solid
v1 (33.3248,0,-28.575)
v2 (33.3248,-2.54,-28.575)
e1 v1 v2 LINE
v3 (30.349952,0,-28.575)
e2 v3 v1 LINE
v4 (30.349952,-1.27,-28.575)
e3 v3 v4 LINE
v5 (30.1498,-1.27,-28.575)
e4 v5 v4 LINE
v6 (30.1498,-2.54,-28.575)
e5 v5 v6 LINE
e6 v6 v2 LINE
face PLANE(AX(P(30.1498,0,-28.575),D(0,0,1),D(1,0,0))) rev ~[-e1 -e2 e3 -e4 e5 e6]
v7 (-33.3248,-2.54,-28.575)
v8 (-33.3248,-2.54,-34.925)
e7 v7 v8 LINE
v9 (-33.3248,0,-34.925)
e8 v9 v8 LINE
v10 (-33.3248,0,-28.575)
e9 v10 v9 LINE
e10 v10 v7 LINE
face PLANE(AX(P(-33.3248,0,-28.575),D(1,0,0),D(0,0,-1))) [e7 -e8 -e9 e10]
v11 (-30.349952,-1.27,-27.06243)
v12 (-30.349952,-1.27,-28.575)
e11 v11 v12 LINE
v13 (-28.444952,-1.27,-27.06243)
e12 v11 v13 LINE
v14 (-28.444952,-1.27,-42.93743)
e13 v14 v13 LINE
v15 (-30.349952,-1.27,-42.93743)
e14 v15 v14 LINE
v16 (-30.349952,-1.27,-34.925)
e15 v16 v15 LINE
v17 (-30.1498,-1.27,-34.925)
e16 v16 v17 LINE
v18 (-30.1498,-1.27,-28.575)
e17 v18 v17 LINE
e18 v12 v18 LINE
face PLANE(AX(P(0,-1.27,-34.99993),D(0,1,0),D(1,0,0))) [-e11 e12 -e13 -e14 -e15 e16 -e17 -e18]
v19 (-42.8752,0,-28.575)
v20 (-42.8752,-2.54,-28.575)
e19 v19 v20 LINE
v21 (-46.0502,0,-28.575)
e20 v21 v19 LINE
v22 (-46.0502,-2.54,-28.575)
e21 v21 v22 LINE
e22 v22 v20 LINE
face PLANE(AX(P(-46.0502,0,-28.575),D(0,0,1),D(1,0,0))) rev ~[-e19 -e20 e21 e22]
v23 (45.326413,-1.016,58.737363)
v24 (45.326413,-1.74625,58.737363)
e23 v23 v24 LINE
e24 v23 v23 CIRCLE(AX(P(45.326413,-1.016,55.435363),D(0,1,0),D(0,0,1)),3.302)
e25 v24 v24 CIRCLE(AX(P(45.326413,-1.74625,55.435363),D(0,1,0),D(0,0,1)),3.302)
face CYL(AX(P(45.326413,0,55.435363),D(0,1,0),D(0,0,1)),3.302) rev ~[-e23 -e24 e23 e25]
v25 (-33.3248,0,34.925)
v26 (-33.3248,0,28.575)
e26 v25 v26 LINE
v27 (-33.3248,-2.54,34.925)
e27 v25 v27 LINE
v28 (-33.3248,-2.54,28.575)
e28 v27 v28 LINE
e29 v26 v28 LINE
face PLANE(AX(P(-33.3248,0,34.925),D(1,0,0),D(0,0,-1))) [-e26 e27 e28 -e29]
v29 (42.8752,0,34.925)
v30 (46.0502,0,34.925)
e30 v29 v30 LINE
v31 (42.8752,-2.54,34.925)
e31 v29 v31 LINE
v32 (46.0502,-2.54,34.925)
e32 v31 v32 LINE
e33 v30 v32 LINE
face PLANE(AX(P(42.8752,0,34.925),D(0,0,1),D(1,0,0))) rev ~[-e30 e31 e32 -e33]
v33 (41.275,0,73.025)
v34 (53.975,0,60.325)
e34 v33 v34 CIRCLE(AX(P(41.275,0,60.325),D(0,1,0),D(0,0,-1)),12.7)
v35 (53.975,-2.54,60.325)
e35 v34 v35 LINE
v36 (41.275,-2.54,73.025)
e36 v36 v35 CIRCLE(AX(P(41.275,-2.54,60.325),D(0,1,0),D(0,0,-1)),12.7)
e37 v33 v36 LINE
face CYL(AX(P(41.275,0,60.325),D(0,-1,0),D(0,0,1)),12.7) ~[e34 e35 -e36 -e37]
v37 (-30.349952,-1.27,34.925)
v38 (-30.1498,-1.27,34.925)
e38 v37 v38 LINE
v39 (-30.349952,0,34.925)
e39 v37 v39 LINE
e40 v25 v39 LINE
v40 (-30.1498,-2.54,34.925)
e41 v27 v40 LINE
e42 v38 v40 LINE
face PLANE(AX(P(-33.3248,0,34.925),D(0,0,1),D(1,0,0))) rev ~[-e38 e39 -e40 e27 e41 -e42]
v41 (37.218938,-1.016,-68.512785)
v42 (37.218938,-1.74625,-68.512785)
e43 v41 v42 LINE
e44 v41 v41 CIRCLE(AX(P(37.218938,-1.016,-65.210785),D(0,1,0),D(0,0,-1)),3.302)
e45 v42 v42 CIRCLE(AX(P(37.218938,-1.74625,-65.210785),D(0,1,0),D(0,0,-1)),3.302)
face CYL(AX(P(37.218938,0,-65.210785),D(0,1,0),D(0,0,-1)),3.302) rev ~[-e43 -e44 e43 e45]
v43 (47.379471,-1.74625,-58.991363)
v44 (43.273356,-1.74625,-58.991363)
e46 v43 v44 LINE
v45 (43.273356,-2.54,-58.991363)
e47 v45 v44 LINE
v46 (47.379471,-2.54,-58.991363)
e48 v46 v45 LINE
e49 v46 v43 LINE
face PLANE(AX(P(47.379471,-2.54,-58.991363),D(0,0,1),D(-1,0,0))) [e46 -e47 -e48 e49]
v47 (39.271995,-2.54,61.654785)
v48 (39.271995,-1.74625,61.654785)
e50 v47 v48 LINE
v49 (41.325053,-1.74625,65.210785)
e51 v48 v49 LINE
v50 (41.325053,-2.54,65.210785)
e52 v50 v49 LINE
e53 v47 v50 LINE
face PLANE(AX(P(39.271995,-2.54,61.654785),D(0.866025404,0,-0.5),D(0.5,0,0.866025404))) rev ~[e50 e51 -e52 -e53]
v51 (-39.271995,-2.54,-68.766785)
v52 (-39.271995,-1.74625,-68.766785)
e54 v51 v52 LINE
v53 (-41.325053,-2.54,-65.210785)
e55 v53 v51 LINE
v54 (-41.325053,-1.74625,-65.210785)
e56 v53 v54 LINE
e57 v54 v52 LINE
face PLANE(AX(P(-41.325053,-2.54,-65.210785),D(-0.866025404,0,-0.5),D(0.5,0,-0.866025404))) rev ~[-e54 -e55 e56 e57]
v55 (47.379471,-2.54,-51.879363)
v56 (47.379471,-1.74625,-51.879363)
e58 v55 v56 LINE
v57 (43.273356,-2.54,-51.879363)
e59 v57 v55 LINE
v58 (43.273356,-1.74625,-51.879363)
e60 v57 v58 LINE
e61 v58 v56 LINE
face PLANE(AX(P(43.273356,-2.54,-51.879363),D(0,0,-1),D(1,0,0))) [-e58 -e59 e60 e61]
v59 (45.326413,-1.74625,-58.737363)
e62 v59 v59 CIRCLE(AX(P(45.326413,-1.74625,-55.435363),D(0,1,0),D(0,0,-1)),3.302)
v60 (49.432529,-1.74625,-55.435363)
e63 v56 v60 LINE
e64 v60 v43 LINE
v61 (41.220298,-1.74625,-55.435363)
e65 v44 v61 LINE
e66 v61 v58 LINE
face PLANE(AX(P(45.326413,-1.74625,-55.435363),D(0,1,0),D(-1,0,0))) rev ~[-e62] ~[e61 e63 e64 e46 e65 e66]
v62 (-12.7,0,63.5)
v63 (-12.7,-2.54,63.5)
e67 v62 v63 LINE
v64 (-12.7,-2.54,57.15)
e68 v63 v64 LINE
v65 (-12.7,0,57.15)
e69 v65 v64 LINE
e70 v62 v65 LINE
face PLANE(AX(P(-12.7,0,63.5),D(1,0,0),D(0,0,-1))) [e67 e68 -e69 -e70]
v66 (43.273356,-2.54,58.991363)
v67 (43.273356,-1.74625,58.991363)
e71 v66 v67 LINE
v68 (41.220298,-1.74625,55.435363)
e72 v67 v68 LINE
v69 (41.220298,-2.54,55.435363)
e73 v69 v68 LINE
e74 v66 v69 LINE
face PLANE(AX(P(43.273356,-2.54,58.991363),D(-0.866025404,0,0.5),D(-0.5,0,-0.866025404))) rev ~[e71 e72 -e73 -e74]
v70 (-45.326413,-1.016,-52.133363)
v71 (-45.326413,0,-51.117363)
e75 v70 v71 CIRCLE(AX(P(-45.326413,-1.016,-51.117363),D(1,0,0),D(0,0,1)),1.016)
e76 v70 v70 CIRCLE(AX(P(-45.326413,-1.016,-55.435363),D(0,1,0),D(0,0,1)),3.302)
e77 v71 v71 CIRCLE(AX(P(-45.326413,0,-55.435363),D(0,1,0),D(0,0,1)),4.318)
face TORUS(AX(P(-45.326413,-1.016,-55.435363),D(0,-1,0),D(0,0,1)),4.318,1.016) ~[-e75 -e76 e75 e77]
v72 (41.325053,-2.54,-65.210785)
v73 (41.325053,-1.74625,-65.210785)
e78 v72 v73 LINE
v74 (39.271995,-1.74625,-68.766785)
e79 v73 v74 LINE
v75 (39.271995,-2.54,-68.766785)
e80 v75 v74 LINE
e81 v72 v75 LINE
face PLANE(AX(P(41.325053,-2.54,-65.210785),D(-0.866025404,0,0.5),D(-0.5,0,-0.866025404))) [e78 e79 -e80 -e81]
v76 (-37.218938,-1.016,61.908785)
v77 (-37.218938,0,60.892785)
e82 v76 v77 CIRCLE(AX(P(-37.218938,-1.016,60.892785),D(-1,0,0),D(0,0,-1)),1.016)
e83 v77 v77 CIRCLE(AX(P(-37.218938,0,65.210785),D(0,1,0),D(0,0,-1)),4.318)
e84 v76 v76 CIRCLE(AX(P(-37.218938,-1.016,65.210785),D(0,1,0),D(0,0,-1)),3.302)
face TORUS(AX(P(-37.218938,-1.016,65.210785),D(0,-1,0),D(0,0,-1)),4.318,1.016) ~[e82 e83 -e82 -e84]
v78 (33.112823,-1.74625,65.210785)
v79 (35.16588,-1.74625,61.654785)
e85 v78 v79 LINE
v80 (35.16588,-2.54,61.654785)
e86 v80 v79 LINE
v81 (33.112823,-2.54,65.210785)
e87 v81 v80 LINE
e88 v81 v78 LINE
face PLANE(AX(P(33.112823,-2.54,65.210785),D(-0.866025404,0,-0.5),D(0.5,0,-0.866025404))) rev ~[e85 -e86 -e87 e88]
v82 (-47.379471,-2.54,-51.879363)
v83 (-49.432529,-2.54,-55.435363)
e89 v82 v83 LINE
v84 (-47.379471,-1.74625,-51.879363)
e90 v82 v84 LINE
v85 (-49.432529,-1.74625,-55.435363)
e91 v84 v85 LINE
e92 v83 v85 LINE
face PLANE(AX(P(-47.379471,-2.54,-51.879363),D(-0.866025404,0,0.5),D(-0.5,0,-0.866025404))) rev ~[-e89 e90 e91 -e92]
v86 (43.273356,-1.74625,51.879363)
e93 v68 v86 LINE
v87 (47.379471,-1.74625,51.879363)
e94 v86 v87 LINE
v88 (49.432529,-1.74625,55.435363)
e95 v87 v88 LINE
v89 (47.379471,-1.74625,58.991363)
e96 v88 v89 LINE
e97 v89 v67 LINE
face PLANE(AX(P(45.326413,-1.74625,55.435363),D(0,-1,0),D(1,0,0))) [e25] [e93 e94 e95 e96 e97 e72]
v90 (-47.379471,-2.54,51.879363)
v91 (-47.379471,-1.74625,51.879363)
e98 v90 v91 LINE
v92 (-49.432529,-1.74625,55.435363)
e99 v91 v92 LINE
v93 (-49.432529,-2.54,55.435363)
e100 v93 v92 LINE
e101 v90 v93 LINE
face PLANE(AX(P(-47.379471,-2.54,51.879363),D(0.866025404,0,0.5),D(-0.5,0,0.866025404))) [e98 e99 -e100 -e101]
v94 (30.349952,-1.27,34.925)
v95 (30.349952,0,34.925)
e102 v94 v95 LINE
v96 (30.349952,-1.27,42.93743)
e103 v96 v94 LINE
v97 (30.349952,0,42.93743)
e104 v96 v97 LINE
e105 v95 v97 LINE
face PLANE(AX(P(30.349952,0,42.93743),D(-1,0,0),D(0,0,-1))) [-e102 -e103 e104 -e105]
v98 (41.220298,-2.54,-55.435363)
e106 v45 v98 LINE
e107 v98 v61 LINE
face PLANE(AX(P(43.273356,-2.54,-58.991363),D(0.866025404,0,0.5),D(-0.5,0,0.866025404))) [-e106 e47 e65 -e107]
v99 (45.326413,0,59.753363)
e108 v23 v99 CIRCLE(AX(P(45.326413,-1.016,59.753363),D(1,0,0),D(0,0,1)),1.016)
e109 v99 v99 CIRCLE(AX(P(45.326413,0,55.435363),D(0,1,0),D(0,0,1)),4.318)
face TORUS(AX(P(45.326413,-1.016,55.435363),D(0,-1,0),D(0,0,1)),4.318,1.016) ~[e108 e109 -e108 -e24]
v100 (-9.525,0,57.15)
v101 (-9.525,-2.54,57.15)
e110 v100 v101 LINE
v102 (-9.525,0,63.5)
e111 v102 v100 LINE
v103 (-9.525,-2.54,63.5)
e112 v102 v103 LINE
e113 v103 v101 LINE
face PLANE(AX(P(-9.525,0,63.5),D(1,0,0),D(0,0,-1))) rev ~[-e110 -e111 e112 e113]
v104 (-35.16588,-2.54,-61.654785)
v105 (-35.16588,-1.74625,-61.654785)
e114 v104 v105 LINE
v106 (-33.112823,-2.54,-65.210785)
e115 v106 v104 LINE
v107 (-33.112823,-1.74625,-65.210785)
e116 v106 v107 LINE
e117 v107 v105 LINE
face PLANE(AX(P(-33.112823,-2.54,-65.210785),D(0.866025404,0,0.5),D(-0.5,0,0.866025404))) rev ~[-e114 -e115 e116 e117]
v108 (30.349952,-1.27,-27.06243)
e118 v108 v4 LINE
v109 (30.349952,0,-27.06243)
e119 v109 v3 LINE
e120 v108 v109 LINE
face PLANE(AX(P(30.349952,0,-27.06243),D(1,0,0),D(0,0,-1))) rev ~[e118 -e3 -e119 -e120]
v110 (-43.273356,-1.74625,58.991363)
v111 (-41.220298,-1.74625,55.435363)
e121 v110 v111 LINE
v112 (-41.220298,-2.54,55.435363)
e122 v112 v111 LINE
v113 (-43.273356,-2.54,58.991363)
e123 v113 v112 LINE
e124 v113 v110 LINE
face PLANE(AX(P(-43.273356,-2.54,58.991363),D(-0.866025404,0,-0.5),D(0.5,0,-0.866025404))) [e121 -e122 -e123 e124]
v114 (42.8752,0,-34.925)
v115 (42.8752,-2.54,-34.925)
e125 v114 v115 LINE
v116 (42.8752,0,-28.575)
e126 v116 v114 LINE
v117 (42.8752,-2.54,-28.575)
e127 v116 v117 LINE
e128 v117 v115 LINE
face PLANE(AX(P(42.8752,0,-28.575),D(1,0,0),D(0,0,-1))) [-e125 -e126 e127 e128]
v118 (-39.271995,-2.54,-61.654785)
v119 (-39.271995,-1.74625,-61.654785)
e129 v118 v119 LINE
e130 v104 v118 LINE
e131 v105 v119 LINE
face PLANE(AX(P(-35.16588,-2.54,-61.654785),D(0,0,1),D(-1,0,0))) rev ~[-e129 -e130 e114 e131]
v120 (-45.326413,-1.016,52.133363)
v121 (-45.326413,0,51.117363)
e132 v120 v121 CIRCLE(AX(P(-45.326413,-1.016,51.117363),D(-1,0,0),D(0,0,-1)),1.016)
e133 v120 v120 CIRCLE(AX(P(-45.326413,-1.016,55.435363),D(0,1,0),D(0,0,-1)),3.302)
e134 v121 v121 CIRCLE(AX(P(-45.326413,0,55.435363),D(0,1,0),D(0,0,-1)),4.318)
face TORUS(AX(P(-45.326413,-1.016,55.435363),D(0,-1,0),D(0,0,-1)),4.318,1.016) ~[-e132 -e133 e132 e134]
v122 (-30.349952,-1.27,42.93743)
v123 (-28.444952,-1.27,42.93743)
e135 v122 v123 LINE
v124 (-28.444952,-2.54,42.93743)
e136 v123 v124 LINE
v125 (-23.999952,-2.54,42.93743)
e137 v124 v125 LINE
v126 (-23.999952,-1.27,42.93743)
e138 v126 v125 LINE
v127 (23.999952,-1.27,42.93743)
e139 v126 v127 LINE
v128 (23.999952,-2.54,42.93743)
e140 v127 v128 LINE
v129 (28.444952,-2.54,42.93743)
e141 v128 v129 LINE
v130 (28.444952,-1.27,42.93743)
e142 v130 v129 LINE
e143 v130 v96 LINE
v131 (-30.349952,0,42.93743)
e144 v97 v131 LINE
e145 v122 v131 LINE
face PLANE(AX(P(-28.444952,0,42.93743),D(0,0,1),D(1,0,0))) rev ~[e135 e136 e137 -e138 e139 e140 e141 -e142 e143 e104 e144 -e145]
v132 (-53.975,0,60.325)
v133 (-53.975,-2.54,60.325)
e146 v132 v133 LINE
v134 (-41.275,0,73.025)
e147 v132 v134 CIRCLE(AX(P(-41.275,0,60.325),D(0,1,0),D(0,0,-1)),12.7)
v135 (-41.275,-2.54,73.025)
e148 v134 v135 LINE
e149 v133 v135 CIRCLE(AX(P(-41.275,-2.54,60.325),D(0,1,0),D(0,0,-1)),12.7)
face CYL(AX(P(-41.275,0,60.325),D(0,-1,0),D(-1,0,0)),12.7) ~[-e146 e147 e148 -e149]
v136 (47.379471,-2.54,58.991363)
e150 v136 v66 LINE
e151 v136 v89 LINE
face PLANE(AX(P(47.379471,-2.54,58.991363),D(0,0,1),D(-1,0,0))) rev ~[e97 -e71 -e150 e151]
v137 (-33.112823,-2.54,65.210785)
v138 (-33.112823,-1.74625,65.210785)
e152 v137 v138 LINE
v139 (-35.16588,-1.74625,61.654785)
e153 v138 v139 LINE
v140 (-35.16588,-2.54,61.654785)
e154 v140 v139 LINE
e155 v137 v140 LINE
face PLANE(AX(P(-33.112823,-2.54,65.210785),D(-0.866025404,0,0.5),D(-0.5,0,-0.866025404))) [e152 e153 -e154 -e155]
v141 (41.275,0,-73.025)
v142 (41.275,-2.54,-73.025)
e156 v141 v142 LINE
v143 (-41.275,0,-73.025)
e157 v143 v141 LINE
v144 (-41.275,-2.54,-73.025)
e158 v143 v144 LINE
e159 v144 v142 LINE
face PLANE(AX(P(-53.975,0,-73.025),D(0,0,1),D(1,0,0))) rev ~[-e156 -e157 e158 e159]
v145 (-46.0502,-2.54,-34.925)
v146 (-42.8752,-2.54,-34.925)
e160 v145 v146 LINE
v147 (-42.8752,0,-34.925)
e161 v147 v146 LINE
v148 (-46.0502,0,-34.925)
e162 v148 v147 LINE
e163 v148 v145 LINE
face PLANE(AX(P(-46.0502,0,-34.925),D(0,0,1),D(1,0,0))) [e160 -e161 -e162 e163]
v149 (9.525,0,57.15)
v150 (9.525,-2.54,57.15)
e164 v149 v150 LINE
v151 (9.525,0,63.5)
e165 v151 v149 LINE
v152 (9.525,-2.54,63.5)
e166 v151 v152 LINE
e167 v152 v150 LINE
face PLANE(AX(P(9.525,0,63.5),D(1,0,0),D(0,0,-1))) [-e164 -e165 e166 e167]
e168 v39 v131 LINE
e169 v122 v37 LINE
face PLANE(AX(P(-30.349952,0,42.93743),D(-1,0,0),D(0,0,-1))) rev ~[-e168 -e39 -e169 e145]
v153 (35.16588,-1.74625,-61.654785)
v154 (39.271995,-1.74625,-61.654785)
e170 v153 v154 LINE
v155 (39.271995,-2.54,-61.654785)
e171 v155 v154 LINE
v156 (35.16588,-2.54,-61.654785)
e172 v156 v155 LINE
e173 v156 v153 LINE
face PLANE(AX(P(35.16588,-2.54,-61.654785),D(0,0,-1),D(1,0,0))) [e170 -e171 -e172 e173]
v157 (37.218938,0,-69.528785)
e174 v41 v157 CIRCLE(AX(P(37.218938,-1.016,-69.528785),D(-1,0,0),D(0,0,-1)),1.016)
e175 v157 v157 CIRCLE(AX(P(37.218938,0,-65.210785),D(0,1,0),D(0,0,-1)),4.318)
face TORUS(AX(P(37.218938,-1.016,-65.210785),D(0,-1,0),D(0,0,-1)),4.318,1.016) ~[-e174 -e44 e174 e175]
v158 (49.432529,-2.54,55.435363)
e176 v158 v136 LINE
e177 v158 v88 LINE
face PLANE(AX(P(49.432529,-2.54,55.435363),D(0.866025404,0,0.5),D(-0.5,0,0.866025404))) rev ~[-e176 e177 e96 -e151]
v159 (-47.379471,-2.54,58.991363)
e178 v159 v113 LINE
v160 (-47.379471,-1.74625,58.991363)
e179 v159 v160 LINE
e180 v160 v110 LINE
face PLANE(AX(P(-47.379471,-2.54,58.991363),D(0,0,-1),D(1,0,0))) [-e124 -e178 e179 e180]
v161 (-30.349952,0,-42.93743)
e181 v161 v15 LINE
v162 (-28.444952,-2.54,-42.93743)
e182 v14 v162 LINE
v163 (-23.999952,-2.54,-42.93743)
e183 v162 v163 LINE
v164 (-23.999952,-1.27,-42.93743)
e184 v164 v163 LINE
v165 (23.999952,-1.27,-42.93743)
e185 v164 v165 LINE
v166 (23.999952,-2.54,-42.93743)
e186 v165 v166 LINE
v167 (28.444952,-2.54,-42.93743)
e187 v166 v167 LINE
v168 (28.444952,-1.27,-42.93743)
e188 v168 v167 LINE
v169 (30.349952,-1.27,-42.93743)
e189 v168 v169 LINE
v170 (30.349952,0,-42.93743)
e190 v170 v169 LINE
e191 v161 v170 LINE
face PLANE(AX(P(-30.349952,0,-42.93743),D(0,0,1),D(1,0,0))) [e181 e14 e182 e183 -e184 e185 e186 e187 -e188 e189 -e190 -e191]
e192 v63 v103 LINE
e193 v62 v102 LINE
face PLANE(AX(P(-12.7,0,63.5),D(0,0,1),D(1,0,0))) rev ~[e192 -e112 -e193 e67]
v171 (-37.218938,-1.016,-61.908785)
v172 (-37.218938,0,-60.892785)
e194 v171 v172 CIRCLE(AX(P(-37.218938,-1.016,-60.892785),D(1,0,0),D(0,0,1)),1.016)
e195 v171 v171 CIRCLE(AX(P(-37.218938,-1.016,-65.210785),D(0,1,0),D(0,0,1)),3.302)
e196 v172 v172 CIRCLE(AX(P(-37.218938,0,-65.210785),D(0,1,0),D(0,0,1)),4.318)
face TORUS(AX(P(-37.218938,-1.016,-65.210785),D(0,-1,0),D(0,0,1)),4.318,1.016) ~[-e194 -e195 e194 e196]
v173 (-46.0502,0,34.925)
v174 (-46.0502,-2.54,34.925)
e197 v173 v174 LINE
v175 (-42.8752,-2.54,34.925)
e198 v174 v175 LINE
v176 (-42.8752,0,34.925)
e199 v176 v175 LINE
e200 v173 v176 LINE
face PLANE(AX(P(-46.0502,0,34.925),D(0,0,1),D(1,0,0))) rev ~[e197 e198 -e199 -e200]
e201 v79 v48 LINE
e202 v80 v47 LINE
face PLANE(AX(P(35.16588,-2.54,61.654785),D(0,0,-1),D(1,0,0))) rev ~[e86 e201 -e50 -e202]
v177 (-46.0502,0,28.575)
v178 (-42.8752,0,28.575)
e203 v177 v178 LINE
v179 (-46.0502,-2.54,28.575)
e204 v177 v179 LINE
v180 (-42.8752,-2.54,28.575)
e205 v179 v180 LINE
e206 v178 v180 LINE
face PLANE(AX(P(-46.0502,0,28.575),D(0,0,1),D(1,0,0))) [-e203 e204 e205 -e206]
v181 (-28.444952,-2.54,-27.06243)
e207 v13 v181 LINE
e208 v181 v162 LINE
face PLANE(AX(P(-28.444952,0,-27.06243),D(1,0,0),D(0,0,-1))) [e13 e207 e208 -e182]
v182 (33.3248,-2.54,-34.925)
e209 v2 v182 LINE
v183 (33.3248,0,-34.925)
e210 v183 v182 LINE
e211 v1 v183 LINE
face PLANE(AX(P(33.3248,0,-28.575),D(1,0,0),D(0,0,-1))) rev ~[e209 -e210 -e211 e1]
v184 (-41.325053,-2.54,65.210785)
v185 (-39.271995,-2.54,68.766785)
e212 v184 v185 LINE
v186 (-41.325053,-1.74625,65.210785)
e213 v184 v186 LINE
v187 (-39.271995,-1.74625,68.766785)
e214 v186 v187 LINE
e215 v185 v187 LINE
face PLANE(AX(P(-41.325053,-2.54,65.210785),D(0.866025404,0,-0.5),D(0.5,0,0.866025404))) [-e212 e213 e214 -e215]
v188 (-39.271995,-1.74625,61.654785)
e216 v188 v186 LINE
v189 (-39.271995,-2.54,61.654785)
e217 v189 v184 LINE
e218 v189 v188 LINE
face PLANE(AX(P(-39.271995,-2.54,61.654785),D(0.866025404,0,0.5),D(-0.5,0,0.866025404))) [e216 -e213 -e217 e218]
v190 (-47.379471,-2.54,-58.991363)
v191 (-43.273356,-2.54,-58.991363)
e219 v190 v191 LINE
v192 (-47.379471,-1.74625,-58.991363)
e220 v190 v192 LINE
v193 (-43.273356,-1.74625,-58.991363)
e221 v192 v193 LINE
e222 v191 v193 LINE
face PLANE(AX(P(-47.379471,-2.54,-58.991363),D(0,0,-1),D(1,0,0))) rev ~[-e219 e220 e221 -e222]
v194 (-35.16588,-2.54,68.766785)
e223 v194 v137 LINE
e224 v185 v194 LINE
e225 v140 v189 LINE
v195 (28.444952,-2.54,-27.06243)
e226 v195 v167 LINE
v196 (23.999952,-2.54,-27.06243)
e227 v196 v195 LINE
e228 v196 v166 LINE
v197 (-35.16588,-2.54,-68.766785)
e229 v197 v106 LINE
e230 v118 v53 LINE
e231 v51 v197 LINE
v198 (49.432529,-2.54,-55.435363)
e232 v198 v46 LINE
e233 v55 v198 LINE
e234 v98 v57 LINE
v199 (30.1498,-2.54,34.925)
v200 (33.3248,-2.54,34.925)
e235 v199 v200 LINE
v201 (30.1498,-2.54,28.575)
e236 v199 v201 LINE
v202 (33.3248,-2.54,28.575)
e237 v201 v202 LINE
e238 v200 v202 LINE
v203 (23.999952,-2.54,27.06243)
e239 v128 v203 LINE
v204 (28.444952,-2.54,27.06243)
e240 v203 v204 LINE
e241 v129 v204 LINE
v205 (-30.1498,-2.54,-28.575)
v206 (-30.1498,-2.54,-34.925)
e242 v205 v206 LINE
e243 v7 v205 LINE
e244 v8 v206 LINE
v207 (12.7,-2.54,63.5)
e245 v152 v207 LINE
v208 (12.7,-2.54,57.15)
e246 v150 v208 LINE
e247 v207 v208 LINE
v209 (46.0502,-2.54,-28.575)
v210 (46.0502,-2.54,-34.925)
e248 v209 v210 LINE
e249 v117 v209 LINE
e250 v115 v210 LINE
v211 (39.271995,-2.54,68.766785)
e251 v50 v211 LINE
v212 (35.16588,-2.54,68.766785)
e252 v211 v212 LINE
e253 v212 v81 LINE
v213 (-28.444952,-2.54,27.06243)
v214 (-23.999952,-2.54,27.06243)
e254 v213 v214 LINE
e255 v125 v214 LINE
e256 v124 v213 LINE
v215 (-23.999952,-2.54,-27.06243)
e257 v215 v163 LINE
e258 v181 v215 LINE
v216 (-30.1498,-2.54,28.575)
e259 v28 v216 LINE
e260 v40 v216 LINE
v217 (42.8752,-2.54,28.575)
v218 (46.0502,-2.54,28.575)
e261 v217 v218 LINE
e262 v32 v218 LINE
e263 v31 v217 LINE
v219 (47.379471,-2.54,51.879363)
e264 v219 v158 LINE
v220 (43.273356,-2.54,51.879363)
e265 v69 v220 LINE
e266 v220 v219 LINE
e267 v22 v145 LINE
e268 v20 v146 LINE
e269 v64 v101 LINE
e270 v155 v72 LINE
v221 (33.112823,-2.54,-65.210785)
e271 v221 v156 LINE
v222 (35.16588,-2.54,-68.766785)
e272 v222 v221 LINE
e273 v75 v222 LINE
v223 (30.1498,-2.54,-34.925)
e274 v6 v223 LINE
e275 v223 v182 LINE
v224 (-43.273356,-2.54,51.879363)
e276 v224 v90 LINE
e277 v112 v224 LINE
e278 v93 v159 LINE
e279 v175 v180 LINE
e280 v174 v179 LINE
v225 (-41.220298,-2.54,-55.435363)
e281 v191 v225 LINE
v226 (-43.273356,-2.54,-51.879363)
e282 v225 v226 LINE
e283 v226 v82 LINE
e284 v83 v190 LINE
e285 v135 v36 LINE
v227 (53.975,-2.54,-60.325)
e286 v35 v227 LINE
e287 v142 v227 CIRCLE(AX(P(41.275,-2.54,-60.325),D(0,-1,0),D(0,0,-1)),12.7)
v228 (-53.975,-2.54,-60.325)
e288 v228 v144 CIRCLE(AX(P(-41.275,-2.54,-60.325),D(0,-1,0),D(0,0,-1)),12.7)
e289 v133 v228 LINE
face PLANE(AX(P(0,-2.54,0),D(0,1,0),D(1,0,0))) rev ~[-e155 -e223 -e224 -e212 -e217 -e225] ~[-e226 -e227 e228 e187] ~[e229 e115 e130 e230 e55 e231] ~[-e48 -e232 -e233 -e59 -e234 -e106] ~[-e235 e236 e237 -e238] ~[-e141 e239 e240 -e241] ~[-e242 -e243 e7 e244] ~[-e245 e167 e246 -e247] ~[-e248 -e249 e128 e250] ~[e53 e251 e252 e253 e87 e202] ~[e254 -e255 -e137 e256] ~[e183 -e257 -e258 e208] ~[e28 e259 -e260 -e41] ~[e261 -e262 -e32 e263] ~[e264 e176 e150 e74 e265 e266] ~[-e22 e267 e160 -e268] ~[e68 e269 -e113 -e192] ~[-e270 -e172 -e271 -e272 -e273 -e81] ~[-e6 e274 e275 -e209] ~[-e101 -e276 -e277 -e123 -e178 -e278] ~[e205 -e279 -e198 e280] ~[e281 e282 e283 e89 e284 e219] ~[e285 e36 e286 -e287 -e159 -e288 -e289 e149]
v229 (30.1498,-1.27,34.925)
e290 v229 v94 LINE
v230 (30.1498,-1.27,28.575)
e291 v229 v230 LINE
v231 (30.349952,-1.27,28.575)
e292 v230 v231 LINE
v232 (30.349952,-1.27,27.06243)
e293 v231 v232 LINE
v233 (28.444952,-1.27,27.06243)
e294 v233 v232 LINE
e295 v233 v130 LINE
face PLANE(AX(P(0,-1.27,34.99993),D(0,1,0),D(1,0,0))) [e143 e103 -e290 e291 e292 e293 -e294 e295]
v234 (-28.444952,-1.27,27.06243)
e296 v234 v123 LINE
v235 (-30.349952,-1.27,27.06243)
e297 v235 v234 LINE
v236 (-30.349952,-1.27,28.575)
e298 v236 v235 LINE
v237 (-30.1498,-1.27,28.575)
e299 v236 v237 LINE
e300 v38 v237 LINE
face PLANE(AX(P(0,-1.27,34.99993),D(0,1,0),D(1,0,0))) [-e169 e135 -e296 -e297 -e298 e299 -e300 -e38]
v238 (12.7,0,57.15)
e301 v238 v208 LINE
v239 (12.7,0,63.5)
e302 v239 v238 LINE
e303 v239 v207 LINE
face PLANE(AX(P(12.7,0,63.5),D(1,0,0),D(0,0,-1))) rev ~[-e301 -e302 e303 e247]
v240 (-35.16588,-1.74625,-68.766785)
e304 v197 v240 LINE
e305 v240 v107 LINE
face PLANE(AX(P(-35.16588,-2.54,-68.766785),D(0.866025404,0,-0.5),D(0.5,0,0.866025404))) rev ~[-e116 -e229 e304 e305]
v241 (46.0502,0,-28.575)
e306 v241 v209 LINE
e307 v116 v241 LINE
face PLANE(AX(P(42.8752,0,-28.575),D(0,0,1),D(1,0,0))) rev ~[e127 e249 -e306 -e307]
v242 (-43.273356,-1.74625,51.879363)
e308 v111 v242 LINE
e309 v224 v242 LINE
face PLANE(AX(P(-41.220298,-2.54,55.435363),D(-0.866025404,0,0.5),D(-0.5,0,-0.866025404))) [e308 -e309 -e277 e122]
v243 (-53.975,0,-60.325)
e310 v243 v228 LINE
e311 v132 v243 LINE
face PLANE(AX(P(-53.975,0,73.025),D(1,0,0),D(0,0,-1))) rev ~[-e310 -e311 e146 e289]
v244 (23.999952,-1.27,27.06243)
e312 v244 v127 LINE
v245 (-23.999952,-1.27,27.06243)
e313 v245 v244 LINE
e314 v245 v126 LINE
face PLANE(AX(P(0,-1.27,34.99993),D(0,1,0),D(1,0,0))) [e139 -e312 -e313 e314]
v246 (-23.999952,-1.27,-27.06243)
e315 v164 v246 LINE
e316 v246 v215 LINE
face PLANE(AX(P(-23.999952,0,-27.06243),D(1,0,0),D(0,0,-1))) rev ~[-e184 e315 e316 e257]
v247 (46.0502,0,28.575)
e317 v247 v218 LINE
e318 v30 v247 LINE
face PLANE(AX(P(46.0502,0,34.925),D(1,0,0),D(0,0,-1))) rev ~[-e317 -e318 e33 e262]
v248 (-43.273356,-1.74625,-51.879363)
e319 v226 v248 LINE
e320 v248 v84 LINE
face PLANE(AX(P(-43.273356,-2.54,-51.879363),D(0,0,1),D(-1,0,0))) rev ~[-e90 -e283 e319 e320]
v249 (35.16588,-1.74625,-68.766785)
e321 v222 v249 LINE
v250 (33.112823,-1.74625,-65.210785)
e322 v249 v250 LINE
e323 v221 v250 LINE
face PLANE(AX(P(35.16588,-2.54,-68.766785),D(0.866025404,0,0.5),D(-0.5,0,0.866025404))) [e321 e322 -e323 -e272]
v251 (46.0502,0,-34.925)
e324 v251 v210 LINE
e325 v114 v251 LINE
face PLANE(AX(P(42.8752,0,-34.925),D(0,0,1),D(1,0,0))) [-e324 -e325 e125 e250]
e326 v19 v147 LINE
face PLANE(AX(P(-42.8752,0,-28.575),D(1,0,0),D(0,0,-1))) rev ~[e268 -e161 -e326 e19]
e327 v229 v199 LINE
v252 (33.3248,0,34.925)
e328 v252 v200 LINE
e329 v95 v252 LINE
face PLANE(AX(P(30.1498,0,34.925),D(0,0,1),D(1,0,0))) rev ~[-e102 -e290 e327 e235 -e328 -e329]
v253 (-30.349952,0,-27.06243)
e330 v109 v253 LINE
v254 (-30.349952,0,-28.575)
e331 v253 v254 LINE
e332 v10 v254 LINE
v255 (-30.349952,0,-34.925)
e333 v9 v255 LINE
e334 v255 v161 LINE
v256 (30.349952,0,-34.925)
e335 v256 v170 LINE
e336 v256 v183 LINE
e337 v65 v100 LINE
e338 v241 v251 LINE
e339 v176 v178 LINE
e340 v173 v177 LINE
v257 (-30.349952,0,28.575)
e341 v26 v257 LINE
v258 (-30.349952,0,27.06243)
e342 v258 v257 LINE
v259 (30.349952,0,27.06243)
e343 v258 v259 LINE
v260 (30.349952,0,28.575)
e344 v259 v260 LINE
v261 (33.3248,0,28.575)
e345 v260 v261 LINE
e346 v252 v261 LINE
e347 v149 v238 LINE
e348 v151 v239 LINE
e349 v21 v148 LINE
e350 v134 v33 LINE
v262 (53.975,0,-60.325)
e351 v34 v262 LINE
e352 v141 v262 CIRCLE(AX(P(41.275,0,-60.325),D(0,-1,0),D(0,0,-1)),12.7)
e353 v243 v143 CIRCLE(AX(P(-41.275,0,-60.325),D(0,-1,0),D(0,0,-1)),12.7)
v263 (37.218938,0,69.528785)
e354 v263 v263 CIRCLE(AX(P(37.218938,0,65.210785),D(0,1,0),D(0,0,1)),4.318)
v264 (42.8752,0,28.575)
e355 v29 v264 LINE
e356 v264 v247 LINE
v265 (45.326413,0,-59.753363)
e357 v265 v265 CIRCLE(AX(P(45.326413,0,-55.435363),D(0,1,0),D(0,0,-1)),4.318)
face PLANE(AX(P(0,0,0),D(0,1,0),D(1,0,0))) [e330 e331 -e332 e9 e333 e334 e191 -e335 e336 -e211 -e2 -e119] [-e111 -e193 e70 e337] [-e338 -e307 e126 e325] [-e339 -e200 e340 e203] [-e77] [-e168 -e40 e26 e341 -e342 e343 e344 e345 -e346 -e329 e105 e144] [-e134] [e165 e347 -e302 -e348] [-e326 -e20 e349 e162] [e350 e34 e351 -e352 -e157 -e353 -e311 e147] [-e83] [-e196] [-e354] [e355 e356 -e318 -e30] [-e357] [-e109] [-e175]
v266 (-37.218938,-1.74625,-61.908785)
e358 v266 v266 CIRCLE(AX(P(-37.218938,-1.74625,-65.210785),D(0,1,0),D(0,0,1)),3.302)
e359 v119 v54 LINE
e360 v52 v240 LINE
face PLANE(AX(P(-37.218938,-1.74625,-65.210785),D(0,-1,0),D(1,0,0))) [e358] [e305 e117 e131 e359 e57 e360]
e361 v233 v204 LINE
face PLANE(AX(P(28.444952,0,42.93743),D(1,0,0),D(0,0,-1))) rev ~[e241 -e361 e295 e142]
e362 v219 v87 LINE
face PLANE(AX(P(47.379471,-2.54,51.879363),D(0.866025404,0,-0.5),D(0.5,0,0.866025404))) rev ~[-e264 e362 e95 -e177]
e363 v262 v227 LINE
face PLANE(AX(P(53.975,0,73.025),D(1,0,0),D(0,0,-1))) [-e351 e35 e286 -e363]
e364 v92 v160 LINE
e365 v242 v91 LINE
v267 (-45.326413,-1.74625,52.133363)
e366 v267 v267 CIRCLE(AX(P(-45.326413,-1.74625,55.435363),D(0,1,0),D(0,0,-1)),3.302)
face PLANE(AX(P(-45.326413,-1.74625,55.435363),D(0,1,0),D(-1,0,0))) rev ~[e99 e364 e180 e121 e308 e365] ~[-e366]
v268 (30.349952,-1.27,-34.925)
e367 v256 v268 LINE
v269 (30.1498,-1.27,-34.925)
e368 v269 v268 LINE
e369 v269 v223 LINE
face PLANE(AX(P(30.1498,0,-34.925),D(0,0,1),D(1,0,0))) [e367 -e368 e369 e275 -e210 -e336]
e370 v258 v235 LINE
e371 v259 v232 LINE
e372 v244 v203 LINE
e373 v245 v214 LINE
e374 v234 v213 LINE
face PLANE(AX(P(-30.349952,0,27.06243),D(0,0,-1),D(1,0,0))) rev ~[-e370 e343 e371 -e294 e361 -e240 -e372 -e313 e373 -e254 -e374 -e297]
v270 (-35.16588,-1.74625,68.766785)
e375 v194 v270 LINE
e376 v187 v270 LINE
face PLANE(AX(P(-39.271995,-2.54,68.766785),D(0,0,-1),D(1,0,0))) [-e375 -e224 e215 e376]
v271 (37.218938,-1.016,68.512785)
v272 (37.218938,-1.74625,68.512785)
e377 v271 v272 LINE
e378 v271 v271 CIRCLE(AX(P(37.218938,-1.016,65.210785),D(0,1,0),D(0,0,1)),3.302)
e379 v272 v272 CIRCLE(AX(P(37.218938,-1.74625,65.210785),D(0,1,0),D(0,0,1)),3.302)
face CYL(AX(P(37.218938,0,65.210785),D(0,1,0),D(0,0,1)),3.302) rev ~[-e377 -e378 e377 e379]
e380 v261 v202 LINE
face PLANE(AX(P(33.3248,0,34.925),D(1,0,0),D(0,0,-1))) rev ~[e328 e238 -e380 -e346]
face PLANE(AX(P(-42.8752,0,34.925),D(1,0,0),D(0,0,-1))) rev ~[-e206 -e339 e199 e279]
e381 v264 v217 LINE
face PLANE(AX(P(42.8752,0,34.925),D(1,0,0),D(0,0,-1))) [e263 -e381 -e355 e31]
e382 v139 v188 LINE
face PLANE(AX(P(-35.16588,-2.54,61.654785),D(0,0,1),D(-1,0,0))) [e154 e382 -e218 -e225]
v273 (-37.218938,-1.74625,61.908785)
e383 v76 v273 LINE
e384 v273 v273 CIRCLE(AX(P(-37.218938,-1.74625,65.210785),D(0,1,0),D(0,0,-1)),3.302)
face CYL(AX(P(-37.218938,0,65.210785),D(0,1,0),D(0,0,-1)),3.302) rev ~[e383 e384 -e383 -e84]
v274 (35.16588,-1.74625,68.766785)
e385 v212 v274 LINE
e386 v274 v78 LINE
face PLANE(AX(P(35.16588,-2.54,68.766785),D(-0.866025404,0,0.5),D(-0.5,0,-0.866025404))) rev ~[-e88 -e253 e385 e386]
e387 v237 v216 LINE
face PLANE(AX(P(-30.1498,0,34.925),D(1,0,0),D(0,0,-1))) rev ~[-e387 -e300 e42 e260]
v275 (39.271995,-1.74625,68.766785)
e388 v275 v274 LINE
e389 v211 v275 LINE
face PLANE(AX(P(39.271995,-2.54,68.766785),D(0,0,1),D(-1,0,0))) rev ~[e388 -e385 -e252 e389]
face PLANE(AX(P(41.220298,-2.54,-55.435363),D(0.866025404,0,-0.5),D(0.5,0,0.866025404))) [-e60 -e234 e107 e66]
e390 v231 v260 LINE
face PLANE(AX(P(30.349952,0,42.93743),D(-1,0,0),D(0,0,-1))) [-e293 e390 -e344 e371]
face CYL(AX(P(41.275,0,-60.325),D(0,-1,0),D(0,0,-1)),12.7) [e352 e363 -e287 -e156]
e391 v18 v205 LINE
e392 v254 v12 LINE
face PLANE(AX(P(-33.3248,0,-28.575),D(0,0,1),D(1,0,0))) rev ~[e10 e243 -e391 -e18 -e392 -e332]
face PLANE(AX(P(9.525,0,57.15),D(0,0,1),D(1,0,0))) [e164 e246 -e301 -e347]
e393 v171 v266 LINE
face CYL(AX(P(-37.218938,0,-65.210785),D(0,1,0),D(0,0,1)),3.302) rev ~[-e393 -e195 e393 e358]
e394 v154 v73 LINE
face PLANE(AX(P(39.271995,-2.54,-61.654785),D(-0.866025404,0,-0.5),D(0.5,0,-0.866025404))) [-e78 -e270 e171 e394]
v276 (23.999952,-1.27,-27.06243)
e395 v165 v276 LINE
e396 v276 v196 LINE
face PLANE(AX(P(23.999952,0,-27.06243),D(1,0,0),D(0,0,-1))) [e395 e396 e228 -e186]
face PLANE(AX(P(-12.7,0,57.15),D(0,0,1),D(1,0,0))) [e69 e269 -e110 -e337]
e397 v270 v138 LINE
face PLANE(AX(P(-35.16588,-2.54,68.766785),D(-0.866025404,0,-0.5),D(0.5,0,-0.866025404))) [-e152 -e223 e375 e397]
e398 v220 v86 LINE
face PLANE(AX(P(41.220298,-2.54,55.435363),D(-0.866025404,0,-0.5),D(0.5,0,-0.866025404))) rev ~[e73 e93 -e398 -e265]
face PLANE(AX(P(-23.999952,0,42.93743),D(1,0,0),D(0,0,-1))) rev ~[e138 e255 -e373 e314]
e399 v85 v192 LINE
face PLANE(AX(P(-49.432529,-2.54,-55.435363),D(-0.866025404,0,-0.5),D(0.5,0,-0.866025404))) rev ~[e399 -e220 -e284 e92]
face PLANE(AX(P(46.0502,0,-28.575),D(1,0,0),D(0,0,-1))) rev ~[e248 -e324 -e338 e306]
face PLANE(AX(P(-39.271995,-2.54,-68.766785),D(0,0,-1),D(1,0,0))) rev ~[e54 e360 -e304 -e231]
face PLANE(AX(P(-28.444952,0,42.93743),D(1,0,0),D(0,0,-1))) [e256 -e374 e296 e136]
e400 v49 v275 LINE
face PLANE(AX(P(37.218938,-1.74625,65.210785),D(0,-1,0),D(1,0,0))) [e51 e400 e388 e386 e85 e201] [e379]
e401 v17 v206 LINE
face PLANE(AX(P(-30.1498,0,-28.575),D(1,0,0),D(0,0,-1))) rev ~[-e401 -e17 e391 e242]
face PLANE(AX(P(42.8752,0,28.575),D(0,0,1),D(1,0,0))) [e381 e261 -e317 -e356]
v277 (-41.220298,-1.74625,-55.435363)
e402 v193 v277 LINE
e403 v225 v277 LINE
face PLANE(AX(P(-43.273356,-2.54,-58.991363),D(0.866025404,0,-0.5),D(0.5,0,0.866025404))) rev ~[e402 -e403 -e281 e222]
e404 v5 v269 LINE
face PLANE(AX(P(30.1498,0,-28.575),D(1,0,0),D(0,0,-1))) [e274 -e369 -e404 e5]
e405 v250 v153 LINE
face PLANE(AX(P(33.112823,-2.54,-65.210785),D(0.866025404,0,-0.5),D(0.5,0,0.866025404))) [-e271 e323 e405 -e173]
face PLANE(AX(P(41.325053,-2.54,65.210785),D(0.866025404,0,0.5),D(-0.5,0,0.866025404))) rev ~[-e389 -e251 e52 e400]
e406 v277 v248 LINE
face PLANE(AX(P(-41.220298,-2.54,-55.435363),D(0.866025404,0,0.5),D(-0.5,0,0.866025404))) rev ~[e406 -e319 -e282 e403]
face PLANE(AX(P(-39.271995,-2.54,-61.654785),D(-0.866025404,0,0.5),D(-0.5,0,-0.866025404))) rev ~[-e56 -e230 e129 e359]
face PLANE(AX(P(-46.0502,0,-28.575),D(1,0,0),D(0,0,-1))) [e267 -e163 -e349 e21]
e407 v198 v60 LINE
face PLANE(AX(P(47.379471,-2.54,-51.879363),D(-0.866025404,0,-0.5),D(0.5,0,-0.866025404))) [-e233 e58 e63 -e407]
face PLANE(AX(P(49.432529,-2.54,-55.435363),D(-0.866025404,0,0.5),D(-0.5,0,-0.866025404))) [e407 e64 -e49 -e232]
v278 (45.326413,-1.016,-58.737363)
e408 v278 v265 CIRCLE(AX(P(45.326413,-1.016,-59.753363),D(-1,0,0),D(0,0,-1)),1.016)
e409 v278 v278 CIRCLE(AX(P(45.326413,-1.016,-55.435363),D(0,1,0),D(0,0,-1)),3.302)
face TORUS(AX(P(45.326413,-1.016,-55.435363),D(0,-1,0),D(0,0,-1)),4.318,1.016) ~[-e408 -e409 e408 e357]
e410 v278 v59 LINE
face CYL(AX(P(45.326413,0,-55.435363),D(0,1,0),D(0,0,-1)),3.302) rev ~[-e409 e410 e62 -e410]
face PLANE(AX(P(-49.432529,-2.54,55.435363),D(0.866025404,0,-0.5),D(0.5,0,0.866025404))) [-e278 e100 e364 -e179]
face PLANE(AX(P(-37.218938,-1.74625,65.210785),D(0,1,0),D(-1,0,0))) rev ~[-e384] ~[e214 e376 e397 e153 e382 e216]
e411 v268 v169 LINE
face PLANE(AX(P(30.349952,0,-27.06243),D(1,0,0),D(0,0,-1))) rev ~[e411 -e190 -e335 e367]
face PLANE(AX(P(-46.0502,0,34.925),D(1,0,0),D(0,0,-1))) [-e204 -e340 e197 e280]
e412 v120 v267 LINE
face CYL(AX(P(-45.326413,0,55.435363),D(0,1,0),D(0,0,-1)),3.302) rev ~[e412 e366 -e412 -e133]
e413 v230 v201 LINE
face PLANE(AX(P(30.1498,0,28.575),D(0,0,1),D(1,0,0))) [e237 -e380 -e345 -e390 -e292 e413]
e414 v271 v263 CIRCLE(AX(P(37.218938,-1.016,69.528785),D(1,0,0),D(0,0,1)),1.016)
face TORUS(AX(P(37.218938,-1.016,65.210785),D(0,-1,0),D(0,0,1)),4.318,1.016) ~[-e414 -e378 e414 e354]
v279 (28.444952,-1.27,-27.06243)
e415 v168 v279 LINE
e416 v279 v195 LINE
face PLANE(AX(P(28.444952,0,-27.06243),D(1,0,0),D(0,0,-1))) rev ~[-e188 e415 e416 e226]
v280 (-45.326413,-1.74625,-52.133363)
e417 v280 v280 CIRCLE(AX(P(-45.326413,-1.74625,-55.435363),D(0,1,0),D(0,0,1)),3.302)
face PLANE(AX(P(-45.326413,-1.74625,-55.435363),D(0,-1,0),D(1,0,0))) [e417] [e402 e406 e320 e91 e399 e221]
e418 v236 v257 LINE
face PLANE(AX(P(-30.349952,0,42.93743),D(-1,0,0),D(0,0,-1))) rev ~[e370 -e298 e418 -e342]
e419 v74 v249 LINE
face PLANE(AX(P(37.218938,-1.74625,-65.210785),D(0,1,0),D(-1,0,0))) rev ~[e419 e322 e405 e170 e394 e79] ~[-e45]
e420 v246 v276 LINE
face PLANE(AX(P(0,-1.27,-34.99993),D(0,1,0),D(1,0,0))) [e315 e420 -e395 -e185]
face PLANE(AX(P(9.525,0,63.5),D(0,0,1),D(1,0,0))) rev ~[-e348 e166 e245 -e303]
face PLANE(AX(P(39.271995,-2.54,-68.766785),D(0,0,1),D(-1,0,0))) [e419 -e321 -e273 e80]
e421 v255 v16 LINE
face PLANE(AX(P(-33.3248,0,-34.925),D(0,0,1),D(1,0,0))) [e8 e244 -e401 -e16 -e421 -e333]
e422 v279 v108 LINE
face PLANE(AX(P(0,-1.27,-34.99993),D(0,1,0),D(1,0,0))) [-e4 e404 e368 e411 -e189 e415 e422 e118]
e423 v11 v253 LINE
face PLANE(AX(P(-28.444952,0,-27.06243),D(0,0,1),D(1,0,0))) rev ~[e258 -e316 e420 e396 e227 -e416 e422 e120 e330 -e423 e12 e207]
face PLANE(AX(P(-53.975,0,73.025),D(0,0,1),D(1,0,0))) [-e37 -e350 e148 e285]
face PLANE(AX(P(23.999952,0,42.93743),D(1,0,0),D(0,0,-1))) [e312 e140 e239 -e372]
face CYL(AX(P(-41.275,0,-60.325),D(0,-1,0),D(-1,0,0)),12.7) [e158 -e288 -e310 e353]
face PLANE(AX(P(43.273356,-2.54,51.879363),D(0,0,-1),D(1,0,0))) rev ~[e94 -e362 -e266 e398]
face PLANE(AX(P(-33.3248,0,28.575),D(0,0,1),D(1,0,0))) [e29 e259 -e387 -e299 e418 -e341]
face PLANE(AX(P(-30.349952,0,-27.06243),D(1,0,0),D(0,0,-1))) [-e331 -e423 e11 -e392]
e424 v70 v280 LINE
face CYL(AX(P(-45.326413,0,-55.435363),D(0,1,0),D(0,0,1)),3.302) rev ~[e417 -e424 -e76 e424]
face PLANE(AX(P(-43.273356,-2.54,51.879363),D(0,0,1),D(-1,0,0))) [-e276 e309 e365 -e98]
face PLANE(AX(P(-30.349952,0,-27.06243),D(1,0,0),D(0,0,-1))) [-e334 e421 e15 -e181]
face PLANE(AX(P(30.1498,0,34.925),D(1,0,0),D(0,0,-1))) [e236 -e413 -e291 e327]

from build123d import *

# Parameters (mm, degrees)
SKETCH1_W           = 107.95
SKETCH1_H           = 146.05
BOSS_EXTRUDE1_DEPTH = 2.54
SKETCH2_R           = 3.302
CUT_EXTRUDE1_DEPTH  = 91.842736914
SKETCH3_W           = 4.445
SKETCH3_H           = 15.875
CUT_EXTRUDE2_DEPTH  = 91.842736914
FILLET1_R           = 12.7
SKETCH11_W          = 60.699904
SKETCH11_H          = 15.875
CUT_EXTRUDE9_DEPTH  = 1.27
FILLET2_R           = 1.016
SKETCH14_W          = 3.175
SKETCH14_H          = 6.35
CUT_EXTRUDE14_DEPTH = 91.842736914
CUT_EXTRUDE15_DEPTH = 0.79375


with BuildPart() as part:
    # Sketch1 → Boss-Extrude1 (new body)
    with BuildSketch(Plane(origin=(0, 0, 0), x_dir=(1, 0, 0), z_dir=(0, 1, 0))):
        Rectangle(SKETCH1_W, SKETCH1_H)
    extrude(amount=-BOSS_EXTRUDE1_DEPTH)

    # Sketch2 → Cut-Extrude1 (cut, through all)
    with BuildSketch(Plane(origin=(0, 0, 0), x_dir=(1, 0, 0), z_dir=(0, 1, 0))):
        with Locations((-37.218937681, 65.210784985)):
            Circle(SKETCH2_R)
        with Locations((45.326413441, 55.435363088)):
            Circle(SKETCH2_R)
        with Locations((37.218937681, 65.210784985)):
            Circle(SKETCH2_R)
        with Locations((-45.326413441, -55.435363088)):
            Circle(SKETCH2_R)
        with Locations((-45.326413441, 55.435363088)):
            Circle(SKETCH2_R)
        with Locations((-37.218937681, -65.210784985)):
            Circle(SKETCH2_R)
        with Locations((37.218937681, -65.210784985)):
            Circle(SKETCH2_R)
        with Locations((45.326413441, -55.435363088)):
            Circle(SKETCH2_R)
    extrude(amount=-CUT_EXTRUDE1_DEPTH, mode=Mode.SUBTRACT)

    # Sketch3 → Cut-Extrude2 (cut, through all)
    with BuildSketch(Plane(origin=(0, 0, 0), x_dir=(1, 0, 0), z_dir=(0, 1, 0))):
        with Locations((-26.222452, 34.99993)):
            Rectangle(SKETCH3_W, SKETCH3_H)
        with Locations((26.222452, 34.99993)):
            Rectangle(SKETCH3_W, SKETCH3_H)
        with Locations((26.222452, -34.99993)):
            Rectangle(SKETCH3_W, SKETCH3_H)
        with Locations((-26.222452, -34.99993)):
            Rectangle(SKETCH3_W, SKETCH3_H)
    extrude(amount=-CUT_EXTRUDE2_DEPTH, mode=Mode.SUBTRACT)

    # Fillet1
    fillet1_edges = [part.edges().sort_by_distance(p)[0] for p in [
        (53.975, -1.27, -73.025),
        (53.975, -1.27, 73.025),
        (-53.975, -1.27, 73.025),
        (-53.975, -1.27, -73.025),
    ]]
    fillet(fillet1_edges, radius=FILLET1_R)

    # Sketch11 → Cut-Extrude9 (cut, symmetric)
    with BuildSketch(Plane(origin=(0, 0, 0), x_dir=(1, 0, 0), z_dir=(0, 1, 0))):
        with Locations((0, -34.99993)):
            Rectangle(SKETCH11_W, SKETCH11_H)
        with Locations((0, 34.99993)):
            Rectangle(SKETCH11_W, SKETCH11_H)
    extrude(amount=CUT_EXTRUDE9_DEPTH, both=True, mode=Mode.SUBTRACT)

    # Fillet2
    fillet2_edges = [part.edges().sort_by_distance(p)[0] for p in [
        (-40.520937681, 0, -65.210784985),
        (33.916937681, 0, 65.210784985),
        (42.024413441, 0, 55.435363088),
        (-40.520937681, 0, 65.210784985),
        (-48.628413441, 0, 55.435363088),
        (42.024413441, 0, -55.435363088),
        (33.916937681, 0, -65.210784985),
        (-48.628413441, 0, -55.435363088),
    ]]
    fillet(fillet2_edges, radius=FILLET2_R)

    # Sketch14 → Cut-Extrude14 (cut, through all)
    with BuildSketch(Plane(origin=(0, 0, 0), x_dir=(1, 0, 0), z_dir=(0, 1, 0))):
        with Locations((31.7373, -31.75)):
            Rectangle(SKETCH14_W, SKETCH14_H)
        with Locations((-31.7373, -31.75)):
            Rectangle(SKETCH14_W, SKETCH14_H)
        with Locations((-31.7373, 31.75)):
            Rectangle(SKETCH14_W, SKETCH14_H)
        with Locations((31.7373, 31.75)):
            Rectangle(SKETCH14_W, SKETCH14_H)
        with Locations((-11.1125, -60.325)):
            Rectangle(SKETCH14_W, SKETCH14_H)
        with Locations((11.1125, -60.325)):
            Rectangle(SKETCH14_W, SKETCH14_H)
        with Locations((44.4627, 31.75)):
            Rectangle(SKETCH14_W, SKETCH14_H)
        with Locations((44.4627, -31.75)):
            Rectangle(SKETCH14_W, SKETCH14_H)
        with Locations((-44.4627, 31.75)):
            Rectangle(SKETCH14_W, SKETCH14_H)
        with Locations((-44.4627, -31.75)):
            Rectangle(SKETCH14_W, SKETCH14_H)
    extrude(amount=-CUT_EXTRUDE14_DEPTH, mode=Mode.SUBTRACT)

    # Sketch17 → Cut-Extrude15 (cut)
    with BuildSketch(Plane.XZ.offset(2.54)):
        Polygon((43.273355884, -51.879363088), (47.379470998, -51.879363088), (49.432528556, -55.435363088), (47.379470998, -58.991363088), (43.273355884, -58.991363088), (41.220298327, -55.435363088), align=None)
        Polygon((-41.220298327, -55.435363088), (-43.273355884, -51.879363088), (-47.379470998, -51.879363088), (-49.432528556, -55.435363088), (-47.379470998, -58.991363088), (-43.273355884, -58.991363088), align=None)
        Polygon((-33.112822567, -65.210784985), (-35.165880124, -61.654784985), (-39.271995239, -61.654784985), (-41.325052796, -65.210784985), (-39.271995239, -68.766784985), (-35.165880124, -68.766784985), align=None)
        Polygon((35.165880124, -61.654784985), (39.271995239, -61.654784985), (41.325052796, -65.210784985), (39.271995239, -68.766784985), (35.165880124, -68.766784985), (33.112822567, -65.210784985), align=None)
        Polygon((-41.220298327, 55.435363088), (-43.273355884, 51.879363088), (-47.379470998, 51.879363088), (-49.432528556, 55.435363088), (-47.379470998, 58.991363088), (-43.273355884, 58.991363088), align=None)
        Polygon((-33.112822567, 65.210784985), (-35.165880124, 61.654784985), (-39.271995239, 61.654784985), (-41.325052796, 65.210784985), (-39.271995239, 68.766784985), (-35.165880124, 68.766784985), align=None)
        Polygon((39.271995239, 68.766784985), (35.165880124, 68.766784985), (33.112822567, 65.210784985), (35.165880124, 61.654784985), (39.271995239, 61.654784985), (41.325052796, 65.210784985), align=None)
        Polygon((47.379470998, 58.991363088), (43.273355884, 58.991363088), (41.220298327, 55.435363088), (43.273355884, 51.879363088), (47.379470998, 51.879363088), (49.432528556, 55.435363088), align=None)
    extrude(amount=-CUT_EXTRUDE15_DEPTH, mode=Mode.SUBTRACT)


solid = part.part
